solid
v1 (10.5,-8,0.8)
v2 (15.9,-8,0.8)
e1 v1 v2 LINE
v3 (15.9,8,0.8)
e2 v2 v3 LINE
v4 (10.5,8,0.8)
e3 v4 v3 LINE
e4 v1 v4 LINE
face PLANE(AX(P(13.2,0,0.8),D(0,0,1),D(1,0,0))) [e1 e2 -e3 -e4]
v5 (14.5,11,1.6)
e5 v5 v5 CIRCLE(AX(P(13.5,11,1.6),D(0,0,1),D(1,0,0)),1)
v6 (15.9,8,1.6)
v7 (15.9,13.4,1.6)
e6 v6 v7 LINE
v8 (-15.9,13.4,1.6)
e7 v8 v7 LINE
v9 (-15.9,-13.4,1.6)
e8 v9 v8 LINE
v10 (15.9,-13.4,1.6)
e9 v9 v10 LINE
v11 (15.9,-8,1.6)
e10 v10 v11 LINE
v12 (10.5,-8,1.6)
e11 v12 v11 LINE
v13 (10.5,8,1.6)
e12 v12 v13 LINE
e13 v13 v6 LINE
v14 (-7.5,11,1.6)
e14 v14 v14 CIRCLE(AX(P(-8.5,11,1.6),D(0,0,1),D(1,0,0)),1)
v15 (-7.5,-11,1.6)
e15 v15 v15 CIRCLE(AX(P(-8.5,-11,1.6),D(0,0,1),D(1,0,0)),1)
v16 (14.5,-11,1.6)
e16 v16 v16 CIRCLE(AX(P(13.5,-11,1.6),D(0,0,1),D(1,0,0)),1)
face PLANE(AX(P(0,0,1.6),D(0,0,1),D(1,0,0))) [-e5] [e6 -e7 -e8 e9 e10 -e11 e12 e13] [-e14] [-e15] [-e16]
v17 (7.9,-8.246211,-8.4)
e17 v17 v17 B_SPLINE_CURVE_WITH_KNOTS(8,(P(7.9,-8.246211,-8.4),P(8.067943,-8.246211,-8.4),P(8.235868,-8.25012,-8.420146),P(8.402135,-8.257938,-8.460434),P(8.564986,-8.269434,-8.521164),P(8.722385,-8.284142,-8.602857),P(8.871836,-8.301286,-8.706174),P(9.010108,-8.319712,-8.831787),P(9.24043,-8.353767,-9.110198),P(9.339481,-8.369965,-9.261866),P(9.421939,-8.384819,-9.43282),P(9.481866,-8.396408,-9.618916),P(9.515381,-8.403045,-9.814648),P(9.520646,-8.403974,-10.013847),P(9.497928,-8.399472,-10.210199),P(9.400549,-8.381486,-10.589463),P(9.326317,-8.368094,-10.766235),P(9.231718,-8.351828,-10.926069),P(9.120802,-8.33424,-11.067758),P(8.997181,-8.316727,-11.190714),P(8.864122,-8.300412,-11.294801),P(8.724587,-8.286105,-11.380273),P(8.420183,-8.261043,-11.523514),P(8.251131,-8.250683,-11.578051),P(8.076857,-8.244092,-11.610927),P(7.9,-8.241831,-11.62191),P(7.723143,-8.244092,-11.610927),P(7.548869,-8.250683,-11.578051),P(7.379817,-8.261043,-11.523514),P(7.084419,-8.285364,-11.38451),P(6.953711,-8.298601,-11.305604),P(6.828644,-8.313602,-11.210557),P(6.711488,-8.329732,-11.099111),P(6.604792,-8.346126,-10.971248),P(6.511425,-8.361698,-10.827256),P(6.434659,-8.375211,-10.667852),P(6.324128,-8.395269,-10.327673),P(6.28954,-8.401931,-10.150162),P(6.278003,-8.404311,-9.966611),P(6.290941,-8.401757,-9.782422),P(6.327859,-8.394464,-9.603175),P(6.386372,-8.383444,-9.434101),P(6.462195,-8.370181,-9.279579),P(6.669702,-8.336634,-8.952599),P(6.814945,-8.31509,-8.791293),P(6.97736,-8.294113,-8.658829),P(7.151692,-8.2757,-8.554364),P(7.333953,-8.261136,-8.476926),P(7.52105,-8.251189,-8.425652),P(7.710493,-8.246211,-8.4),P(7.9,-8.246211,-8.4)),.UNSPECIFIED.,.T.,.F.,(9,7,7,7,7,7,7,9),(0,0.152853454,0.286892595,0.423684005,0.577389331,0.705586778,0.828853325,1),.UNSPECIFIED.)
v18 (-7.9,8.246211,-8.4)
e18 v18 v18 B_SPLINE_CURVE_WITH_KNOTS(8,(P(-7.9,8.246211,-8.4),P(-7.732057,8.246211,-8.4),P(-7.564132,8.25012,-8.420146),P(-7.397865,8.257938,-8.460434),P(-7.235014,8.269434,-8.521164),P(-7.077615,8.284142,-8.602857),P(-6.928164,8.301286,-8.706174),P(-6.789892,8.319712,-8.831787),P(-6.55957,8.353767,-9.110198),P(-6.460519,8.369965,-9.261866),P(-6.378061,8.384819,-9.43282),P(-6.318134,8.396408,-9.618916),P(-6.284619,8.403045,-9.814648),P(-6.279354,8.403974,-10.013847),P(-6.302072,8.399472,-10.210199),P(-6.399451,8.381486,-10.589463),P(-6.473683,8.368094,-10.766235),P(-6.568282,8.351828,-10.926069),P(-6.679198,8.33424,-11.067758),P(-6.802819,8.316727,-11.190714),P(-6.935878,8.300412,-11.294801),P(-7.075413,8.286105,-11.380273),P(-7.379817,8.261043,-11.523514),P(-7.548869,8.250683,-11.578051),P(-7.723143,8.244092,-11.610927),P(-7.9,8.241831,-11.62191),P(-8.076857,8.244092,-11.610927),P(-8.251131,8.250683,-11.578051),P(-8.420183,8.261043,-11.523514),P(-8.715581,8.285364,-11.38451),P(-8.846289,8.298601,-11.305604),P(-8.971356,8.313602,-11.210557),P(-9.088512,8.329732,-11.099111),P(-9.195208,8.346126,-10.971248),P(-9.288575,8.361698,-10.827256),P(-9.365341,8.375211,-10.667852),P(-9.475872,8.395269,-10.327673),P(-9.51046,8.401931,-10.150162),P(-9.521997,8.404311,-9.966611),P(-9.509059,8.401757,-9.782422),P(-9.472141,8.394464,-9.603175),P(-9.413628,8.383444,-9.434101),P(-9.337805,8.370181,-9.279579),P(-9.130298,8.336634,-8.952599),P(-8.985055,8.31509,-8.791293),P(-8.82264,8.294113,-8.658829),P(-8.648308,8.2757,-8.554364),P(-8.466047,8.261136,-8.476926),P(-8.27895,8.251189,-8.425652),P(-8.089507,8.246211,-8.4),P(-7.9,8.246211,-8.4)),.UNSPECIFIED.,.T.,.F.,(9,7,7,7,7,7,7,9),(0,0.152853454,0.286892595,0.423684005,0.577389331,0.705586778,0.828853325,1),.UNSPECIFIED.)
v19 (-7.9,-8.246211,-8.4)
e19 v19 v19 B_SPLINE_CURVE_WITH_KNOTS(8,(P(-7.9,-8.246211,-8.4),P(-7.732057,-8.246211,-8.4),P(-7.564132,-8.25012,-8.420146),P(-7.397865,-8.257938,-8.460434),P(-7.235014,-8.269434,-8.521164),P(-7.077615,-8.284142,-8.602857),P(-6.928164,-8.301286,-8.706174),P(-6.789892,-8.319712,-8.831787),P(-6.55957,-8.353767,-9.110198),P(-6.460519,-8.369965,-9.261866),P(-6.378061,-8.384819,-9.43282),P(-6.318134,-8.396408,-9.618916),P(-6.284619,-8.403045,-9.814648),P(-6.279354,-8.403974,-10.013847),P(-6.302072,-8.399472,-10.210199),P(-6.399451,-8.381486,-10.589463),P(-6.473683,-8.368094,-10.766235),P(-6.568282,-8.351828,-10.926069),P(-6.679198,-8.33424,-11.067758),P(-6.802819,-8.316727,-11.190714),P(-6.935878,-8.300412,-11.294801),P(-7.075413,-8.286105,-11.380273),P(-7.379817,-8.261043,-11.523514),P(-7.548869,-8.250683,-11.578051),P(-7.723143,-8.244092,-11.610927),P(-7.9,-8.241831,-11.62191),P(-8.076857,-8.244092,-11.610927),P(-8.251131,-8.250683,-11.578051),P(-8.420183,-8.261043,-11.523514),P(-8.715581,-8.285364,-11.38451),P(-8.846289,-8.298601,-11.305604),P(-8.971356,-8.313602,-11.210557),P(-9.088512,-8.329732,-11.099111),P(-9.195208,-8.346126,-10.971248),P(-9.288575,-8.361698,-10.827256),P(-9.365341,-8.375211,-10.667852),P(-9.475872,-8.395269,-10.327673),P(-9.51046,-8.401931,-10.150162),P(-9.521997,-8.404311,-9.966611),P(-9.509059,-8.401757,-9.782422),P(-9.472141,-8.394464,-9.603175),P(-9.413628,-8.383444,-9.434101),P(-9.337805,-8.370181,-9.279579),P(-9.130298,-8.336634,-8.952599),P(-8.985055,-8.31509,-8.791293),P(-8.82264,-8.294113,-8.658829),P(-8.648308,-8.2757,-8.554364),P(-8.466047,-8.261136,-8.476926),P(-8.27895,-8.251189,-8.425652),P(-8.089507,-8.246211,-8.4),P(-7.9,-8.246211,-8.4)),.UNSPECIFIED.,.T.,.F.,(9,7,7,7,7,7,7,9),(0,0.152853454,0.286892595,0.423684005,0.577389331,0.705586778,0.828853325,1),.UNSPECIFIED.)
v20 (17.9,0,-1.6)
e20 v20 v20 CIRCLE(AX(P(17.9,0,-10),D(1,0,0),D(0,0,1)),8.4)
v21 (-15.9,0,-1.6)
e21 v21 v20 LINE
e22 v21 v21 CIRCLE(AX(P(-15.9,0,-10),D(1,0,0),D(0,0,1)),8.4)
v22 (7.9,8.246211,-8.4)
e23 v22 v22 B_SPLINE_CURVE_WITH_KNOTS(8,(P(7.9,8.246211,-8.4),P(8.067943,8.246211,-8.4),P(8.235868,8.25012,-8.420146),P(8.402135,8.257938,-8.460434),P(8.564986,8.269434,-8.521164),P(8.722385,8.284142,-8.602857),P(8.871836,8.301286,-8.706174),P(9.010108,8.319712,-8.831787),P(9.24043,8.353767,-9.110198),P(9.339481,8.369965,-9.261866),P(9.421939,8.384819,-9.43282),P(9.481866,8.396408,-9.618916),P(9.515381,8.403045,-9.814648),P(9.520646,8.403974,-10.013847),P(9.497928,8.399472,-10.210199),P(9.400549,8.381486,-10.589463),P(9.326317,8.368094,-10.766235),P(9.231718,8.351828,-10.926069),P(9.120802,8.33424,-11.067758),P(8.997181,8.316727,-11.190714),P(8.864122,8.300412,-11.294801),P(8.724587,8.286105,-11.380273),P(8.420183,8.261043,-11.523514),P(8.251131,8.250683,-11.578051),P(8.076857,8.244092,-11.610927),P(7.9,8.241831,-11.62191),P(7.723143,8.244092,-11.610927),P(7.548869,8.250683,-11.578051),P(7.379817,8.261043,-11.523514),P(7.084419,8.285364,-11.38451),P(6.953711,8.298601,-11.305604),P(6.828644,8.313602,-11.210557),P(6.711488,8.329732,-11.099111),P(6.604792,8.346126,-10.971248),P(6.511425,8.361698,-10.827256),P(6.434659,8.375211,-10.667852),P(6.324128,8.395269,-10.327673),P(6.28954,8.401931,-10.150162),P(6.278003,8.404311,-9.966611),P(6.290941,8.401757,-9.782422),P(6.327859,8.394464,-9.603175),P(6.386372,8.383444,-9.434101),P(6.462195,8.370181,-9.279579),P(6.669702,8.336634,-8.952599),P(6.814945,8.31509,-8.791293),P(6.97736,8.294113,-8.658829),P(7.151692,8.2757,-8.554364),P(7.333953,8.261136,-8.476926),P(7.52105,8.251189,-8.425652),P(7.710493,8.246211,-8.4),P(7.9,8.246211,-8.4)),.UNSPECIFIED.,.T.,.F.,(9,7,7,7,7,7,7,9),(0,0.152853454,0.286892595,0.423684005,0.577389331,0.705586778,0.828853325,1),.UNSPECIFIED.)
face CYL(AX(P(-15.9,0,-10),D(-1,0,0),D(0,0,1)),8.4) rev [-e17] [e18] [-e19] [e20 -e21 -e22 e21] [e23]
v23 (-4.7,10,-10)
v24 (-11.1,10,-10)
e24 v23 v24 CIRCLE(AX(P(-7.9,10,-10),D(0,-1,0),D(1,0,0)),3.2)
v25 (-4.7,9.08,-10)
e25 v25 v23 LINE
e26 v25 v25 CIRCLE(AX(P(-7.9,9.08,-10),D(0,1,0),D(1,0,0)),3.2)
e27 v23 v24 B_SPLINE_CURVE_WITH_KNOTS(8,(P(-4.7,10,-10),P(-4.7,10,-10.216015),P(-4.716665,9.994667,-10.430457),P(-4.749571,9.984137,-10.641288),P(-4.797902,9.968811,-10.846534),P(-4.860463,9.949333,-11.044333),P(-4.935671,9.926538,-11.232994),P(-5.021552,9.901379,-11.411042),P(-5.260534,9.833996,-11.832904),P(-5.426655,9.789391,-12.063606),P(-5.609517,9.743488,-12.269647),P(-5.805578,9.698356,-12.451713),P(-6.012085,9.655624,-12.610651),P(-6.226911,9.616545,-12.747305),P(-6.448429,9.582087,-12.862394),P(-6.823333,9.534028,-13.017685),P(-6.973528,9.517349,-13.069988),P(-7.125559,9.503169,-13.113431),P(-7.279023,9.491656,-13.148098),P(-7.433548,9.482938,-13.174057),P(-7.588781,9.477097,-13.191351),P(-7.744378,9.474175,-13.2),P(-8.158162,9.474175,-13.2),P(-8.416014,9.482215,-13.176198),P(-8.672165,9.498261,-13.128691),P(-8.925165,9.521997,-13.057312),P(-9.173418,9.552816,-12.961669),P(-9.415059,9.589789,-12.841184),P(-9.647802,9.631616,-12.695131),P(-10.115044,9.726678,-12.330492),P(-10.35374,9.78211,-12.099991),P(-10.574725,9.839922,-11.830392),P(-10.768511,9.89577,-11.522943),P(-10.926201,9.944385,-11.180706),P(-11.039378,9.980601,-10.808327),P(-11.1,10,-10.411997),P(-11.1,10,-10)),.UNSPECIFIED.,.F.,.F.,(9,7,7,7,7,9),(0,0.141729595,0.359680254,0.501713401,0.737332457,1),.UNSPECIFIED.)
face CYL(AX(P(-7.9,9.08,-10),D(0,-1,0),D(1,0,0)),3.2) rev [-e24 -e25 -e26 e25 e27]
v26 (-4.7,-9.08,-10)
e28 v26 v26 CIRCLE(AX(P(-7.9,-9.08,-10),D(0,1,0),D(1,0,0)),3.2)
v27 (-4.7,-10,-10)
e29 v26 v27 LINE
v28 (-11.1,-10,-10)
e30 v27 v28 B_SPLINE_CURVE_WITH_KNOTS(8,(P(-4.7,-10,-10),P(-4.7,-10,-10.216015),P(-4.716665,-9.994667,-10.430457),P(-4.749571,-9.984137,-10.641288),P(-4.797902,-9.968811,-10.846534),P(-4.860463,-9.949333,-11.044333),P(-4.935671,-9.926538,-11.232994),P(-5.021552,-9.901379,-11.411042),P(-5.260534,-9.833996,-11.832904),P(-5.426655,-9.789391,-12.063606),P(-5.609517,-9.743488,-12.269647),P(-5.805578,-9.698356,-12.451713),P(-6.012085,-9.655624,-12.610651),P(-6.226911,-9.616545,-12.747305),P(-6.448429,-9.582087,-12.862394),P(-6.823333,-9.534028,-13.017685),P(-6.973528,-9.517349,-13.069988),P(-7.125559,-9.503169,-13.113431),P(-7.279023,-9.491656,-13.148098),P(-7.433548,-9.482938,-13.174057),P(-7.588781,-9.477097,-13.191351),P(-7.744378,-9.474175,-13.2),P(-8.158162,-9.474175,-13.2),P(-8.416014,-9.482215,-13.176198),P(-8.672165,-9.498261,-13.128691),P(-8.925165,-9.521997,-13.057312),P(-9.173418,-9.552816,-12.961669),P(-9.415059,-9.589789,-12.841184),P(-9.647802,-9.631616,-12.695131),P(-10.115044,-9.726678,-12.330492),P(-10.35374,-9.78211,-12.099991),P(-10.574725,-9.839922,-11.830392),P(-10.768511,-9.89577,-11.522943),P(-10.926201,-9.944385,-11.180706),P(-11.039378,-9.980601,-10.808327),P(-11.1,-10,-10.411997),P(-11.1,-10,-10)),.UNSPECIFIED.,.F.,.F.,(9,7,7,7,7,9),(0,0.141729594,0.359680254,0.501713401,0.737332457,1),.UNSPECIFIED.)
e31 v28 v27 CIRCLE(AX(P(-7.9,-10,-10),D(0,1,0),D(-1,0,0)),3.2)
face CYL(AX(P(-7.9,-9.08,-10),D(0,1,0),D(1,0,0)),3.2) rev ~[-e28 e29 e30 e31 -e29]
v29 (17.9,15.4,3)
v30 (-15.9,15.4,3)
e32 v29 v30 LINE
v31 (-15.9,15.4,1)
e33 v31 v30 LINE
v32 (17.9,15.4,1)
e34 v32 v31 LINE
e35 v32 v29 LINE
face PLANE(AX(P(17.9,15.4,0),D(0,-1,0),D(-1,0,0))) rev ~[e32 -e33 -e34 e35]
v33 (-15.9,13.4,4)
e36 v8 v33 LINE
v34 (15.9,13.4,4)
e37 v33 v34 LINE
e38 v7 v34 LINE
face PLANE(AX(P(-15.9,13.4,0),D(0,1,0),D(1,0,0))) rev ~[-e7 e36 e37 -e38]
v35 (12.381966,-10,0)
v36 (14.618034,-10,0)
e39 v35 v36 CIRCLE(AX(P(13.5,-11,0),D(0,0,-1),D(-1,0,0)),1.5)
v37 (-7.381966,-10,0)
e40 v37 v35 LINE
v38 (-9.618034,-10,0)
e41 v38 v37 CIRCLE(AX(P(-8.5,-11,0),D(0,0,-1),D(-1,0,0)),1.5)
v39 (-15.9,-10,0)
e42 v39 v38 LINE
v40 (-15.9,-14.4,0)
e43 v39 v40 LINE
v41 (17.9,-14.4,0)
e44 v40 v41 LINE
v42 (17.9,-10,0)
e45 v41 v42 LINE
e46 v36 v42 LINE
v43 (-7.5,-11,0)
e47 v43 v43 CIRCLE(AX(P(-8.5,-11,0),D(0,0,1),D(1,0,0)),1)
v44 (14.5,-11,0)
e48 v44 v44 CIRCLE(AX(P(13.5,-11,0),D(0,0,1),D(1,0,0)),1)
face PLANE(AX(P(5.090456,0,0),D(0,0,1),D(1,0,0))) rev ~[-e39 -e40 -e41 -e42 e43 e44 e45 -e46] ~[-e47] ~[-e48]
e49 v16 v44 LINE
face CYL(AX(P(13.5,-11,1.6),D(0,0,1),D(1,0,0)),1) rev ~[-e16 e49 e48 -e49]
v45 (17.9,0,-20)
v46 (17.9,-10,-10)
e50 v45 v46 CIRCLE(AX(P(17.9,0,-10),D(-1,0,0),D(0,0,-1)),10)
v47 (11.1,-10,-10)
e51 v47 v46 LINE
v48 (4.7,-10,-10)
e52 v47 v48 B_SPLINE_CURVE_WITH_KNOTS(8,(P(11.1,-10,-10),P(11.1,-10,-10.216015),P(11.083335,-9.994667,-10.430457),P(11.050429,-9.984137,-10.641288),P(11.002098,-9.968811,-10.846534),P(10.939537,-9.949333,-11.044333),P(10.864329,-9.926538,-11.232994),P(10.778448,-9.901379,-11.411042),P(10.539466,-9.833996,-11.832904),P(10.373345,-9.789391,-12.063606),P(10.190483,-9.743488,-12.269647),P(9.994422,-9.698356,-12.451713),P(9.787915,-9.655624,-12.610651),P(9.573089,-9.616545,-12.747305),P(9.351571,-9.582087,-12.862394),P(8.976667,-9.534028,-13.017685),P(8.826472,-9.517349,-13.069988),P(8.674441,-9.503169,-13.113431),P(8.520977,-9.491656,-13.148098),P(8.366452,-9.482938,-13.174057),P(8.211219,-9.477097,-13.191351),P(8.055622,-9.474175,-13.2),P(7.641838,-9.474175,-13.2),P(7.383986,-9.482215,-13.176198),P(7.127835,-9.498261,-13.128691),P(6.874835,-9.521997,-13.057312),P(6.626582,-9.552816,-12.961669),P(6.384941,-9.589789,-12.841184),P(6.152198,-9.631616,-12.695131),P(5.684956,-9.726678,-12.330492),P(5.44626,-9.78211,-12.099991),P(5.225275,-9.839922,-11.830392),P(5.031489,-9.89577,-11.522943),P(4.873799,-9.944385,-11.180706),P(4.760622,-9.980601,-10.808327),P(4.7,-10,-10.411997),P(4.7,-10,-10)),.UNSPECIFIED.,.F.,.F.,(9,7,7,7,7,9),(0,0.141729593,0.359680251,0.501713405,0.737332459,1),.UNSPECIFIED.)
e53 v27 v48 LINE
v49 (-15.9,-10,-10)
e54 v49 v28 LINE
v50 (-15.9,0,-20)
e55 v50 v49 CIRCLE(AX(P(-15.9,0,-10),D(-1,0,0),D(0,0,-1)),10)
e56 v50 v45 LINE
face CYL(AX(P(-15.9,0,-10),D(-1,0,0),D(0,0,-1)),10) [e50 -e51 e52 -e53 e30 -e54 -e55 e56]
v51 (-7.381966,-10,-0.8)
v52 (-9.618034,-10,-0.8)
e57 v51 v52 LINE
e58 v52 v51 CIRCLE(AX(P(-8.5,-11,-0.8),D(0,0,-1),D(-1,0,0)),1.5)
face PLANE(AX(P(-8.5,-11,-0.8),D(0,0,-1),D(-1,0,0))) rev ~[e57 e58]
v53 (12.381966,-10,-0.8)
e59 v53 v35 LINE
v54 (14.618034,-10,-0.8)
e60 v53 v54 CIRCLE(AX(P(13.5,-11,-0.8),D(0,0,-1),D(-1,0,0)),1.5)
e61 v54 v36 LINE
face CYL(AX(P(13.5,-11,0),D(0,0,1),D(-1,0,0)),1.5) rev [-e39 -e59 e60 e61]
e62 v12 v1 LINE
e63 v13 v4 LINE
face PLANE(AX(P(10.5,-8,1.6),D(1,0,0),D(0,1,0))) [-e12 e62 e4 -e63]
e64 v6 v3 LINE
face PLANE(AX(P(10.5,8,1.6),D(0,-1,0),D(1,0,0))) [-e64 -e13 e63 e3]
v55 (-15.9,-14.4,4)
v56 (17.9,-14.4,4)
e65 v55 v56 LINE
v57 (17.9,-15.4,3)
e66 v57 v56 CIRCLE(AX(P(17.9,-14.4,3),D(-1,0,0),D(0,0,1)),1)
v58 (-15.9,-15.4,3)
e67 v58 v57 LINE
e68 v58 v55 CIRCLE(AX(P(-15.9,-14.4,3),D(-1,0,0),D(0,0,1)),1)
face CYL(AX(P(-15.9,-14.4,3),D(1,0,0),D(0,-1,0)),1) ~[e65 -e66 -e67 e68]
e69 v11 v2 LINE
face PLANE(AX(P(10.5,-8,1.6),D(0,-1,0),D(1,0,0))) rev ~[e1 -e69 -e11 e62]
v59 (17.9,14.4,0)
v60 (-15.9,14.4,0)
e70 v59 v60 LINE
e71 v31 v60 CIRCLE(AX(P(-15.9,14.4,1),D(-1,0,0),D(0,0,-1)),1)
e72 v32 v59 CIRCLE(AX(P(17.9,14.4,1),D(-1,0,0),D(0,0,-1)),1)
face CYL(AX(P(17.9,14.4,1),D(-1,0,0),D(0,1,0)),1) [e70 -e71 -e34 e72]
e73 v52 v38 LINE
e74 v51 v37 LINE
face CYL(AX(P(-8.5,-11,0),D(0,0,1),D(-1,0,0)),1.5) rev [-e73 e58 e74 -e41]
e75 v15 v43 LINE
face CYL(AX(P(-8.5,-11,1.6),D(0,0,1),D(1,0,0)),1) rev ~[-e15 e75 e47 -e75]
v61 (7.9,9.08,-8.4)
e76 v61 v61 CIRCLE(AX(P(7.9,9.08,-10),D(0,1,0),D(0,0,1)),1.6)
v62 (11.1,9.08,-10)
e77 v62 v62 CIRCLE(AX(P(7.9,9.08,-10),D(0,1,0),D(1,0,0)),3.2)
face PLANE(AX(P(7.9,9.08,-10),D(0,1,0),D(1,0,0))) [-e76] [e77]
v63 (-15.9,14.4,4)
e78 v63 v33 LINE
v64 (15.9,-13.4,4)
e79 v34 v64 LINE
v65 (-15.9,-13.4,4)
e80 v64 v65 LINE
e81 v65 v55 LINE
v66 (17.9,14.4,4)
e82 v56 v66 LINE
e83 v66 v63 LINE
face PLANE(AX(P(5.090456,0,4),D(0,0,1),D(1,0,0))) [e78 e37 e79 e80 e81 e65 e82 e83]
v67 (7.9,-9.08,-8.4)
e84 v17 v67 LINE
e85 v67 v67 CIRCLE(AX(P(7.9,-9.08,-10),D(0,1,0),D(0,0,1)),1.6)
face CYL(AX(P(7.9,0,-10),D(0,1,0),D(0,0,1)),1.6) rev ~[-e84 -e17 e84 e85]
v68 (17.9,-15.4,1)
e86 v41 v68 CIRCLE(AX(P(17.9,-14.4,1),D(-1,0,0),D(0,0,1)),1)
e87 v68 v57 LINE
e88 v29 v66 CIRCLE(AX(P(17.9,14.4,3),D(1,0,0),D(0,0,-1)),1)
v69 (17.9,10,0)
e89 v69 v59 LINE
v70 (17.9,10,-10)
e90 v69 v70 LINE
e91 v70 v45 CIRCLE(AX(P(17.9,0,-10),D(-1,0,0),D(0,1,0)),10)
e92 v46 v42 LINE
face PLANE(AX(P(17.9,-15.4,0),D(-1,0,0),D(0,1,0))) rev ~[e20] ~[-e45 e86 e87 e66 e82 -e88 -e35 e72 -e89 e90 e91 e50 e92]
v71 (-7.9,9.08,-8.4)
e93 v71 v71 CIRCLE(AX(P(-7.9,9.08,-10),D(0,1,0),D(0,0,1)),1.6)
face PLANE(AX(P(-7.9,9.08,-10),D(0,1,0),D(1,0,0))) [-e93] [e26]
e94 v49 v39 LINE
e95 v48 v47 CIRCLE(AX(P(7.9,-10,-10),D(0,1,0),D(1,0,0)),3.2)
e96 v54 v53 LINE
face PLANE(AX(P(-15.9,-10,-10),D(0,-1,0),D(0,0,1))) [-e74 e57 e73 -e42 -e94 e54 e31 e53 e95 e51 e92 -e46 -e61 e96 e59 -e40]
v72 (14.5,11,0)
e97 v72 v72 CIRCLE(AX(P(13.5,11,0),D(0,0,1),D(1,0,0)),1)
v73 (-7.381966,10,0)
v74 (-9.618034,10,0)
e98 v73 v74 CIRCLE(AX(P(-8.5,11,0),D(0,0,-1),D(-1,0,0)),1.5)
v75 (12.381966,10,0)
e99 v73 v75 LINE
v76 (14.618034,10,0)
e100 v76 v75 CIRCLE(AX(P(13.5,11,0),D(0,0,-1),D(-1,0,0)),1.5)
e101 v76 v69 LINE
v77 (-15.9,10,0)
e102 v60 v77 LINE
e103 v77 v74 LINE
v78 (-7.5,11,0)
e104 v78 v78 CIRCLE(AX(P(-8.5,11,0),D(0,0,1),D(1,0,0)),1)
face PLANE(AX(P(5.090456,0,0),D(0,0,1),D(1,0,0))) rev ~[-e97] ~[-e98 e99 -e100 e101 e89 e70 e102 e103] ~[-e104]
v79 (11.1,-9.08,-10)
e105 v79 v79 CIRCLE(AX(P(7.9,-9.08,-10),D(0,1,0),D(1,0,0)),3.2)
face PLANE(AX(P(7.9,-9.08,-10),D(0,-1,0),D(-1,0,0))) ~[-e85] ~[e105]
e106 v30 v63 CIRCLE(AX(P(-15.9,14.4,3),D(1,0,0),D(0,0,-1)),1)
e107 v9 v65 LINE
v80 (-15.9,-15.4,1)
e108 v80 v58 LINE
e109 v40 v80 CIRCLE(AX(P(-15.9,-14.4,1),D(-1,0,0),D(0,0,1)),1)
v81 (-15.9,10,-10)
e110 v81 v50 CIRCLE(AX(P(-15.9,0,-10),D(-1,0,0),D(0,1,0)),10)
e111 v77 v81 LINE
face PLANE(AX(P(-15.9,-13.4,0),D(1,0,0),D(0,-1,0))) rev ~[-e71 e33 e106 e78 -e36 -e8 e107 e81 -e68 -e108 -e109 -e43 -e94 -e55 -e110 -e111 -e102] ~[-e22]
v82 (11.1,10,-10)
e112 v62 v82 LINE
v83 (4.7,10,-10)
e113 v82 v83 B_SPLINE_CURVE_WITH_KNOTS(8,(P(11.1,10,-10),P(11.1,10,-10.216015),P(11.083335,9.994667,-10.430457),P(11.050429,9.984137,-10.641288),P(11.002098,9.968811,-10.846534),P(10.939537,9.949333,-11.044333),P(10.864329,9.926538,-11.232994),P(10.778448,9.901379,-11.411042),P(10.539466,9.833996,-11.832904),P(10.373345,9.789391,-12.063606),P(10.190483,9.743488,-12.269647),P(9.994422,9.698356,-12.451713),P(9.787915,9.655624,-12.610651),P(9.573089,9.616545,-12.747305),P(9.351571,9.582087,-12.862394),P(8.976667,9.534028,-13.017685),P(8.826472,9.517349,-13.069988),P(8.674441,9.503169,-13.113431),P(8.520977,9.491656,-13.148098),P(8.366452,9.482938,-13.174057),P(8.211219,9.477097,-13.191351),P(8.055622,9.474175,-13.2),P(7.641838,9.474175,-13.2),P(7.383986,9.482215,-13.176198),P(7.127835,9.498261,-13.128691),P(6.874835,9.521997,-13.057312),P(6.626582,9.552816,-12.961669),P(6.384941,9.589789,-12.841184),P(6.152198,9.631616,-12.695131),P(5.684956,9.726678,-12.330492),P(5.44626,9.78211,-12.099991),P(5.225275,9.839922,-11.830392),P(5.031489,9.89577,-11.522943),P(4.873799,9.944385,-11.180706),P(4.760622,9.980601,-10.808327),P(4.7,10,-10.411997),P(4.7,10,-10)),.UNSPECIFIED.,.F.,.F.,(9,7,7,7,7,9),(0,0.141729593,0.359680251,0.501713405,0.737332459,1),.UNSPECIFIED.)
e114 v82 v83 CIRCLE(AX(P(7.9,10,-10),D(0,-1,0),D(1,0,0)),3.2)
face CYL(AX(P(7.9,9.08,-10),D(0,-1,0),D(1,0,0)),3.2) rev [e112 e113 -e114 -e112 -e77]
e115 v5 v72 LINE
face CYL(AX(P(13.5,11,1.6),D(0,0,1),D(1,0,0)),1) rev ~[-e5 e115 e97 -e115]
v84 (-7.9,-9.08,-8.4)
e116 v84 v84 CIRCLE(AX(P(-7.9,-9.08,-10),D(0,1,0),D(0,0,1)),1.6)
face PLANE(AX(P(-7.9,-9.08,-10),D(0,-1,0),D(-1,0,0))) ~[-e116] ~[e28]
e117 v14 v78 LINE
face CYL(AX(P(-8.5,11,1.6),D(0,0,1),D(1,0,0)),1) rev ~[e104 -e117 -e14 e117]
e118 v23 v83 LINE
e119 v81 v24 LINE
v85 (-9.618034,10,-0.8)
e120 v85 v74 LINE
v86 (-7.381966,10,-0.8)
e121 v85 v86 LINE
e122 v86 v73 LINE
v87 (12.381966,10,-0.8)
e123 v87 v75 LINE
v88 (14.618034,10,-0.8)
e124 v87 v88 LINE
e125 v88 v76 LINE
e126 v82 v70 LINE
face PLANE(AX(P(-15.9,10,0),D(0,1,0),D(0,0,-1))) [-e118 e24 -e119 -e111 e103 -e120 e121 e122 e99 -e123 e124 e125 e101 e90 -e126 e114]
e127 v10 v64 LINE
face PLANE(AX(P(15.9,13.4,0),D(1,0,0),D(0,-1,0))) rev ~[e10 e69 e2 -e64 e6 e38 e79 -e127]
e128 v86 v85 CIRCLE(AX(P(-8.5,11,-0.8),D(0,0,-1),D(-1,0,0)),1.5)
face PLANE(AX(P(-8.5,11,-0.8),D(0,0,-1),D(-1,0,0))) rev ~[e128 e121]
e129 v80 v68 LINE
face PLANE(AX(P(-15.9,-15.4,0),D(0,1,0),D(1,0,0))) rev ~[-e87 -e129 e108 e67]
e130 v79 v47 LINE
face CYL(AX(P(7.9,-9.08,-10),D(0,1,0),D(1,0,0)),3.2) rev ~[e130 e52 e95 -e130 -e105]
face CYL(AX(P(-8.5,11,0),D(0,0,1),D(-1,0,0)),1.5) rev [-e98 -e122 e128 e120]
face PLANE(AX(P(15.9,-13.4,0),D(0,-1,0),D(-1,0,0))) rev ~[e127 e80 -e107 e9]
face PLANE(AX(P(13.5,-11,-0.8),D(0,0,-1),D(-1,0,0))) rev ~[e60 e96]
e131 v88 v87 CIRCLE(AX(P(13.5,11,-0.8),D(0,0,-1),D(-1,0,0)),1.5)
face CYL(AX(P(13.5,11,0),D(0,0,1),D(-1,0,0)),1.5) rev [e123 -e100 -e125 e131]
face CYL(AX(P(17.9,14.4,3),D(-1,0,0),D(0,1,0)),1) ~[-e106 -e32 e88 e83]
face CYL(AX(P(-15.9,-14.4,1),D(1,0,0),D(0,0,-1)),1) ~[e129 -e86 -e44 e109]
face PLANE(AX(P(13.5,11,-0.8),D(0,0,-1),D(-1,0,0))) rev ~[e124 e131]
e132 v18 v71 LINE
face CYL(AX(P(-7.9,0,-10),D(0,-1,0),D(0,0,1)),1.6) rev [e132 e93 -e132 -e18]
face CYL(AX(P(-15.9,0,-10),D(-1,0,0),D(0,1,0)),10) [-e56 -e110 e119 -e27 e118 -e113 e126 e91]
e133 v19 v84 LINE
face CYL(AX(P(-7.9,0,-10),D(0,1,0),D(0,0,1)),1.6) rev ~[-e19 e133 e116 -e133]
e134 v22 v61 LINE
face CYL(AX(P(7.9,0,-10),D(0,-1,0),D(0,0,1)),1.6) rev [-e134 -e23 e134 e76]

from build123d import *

# Parameters (mm, degrees)
SKETCH_1_W               = 31.8
SKETCH_1_H               = 26.8
SKETCH_1_R               = 1
EXTRUDE_1_DEPTH          = 1.6
EXTRUDE_2_DEPTH          = 4
SKETCH_2_W               = 5.4
SKETCH_2_H               = 16
CUT_EXTRUDE_1_DEPTH      = 0.8
EXTRUDE_3_DEPTH          = 33.8
SKETCH_4_R               = 1.6
CUT_EXTRUDE_2_DEPTH      = 31.944627967
CUT_EXTRUDE_2_DEPTH_BACK = 31.944627967
CUT_EXTRUDE_START        = -1
SKETCH_6_R               = 3.2
SKETCH_6_R_2             = 1.6
CUT_EXTRUDE_3_DEPTH      = 3
CUT_EXTRUDE_START_2      = 1.6
SKETCH_1_5_R             = 1
CUT_EXTRUDE_5_DEPTH      = 33.544628089
FILLET_1_R               = 1
SKETCH_7_R               = 1.5
SKETCH_7_R_2             = 1
CUT_EXTRUDE_6_DEPTH      = 0.8


with BuildPart() as part:
    # Эскиз1 → Бобышка-Вытянуть1 (new body)
    with BuildSketch(Plane.XY):
        Rectangle(SKETCH_1_W, SKETCH_1_H)
        with Locations((-8.5, -11)):
            Circle(SKETCH_1_R, mode=Mode.SUBTRACT)
        with Locations((-8.5, 11)):
            Circle(SKETCH_1_R, mode=Mode.SUBTRACT)
        with Locations((13.5, 11)):
            Circle(SKETCH_1_R, mode=Mode.SUBTRACT)
        with Locations((13.5, -11)):
            Circle(SKETCH_1_R, mode=Mode.SUBTRACT)
        with Locations((-8.5, 11)):
            Circle(SKETCH_1_R)
        with Locations((13.5, 11)):
            Circle(SKETCH_1_R)
        with Locations((-8.5, -11)):
            Circle(SKETCH_1_R)
        with Locations((13.5, -11)):
            Circle(SKETCH_1_R)
    extrude(amount=EXTRUDE_1_DEPTH)

    # Эскиз1<3> → Бобышка-Вытянуть2 (add)
    with BuildSketch(Plane.XY):
        Polygon((-15.9, -13.4), (-15.9, -15.4), (17.9, -15.4), (17.9, 15.4), (-15.9, 15.4), (-15.9, 13.4), (15.9, 13.4), (15.9, -13.4), align=None)
    extrude(amount=EXTRUDE_2_DEPTH)

    # Эскиз2 → Вырез-Вытянуть1 (cut)
    with BuildSketch(Plane.XY.offset(1.6)):
        with Locations((13.2, 0)):
            Rectangle(SKETCH_2_W, SKETCH_2_H)
    extrude(amount=-CUT_EXTRUDE_1_DEPTH, mode=Mode.SUBTRACT)

    # Эскиз3 → Бобышка-Вытянуть3 (add)
    with BuildSketch(Plane.ZY.offset(15.9)):
        with BuildLine():
            Line((-1.6, 0), (0, 0))
            ThreePointArc((0, 0), (-2.928932188, 7.071067812), (-10, 10))
            ThreePointArc((-10, 10), (-17.071067812, 7.071067812), (-20, 0))
            Line((-20, 0), (-18.4, 0))
            ThreePointArc((-18.4, 0), (-10, 8.4), (-1.6, 0))
        make_face()
        with BuildLine():
            ThreePointArc((-10, -10), (-2.928932188, -7.071067812), (0, 0))
            Line((0, 0), (-1.6, 0))
            ThreePointArc((-1.6, 0), (-10, -8.4), (-18.4, 0))
            Line((-18.4, 0), (-20, 0))
            ThreePointArc((-20, 0), (-17.071067812, -7.071067812), (-10, -10))
        make_face()
        with BuildLine():
            Line((0, -10), (0, 0))
            ThreePointArc((0, 0), (-2.928932188, -7.071067812), (-10, -10))
            Line((-10, -10), (0, -10))
        make_face()
        with BuildLine():
            ThreePointArc((-10, 10), (-2.928932188, 7.071067812), (0, 0))
            Line((0, 0), (0, 10))
            Line((0, 10), (-10, 10))
        make_face()
    extrude(amount=-EXTRUDE_3_DEPTH)

    # Эскиз4 → Вырез-Вытянуть2 (cut, two sides)
    with BuildSketch(Plane(origin=(0, 0, 0), x_dir=(1, 0, 0), z_dir=(0, 1, 0))) as cut_extrude_2_sk:
        with Locations(Location((-7.9, 10, 0), (0, 0, 270))):
            Circle(SKETCH_4_R)
        with Locations(Location((7.9, 10, 0), (0, 0, 270))):
            Circle(SKETCH_4_R)
    extrude(amount=CUT_EXTRUDE_2_DEPTH, mode=Mode.SUBTRACT)
    extrude(cut_extrude_2_sk.sketch, amount=-CUT_EXTRUDE_2_DEPTH_BACK, mode=Mode.SUBTRACT)

    # Эскиз6 → Вырез-Вытянуть3 (cut)
    with BuildSketch(Plane(origin=(0, 10.08, 0), x_dir=(1, 0, 0), z_dir=(0, 1, 0)).offset(CUT_EXTRUDE_START)):
        with Locations((7.9, 10)):
            Circle(SKETCH_6_R)
        with Locations(Location((7.9, 10, 0), (0, 0, 270))):
            Circle(SKETCH_6_R_2, mode=Mode.SUBTRACT)
        with Locations((-7.9, 10)):
            Circle(SKETCH_6_R)
        with Locations(Location((-7.9, 10, 0), (0, 0, 270))):
            Circle(SKETCH_6_R_2, mode=Mode.SUBTRACT)
    cut_extrude_3 = extrude(amount=CUT_EXTRUDE_3_DEPTH, mode=Mode.SUBTRACT)

    # Зеркальное отражение1: Вырез-Вытянуть3 across plane
    add(cut_extrude_3.mirror(Plane.ZX), mode=Mode.SUBTRACT)

    # Эскиз1<5> → Вырез-Вытянуть5 (cut, through all)
    with BuildSketch(Plane.XY.offset(CUT_EXTRUDE_START_2)):
        with Locations((13.5, 11)):
            Circle(SKETCH_1_5_R)
        with Locations((-8.5, 11)):
            Circle(SKETCH_1_5_R)
        with Locations((-8.5, -11)):
            Circle(SKETCH_1_5_R)
        with Locations((13.5, -11)):
            Circle(SKETCH_1_5_R)
    extrude(amount=-CUT_EXTRUDE_5_DEPTH, mode=Mode.SUBTRACT)

    # Скругление1
    fillet_1_edges = [part.edges().sort_by_distance(p)[0] for p in [
        (1, -15.4, 0),
        (1, 15.4, 4),
        (1, -15.4, 4),
        (1, 15.4, 0),
    ]]
    fillet(fillet_1_edges, radius=FILLET_1_R)

    # Эскиз7 → Вырез-Вытянуть6 (cut)
    with BuildSketch(Plane(origin=(0, 0, 0), x_dir=(-1, 0, 0), z_dir=(0, 0, -1))):
        with Locations((8.5, 11)):
            Circle(SKETCH_7_R)
        with Locations(Location((8.5, 11, 0), (0, 0, 180))):
            Circle(SKETCH_7_R_2, mode=Mode.SUBTRACT)
        with Locations((-13.5, 11)):
            Circle(SKETCH_7_R)
        with Locations(Location((-13.5, 11, 0), (0, 0, 180))):
            Circle(SKETCH_7_R_2, mode=Mode.SUBTRACT)
        with Locations((8.5, -11)):
            Circle(SKETCH_7_R)
        with Locations(Location((8.5, -11, 0), (0, 0, 180))):
            Circle(SKETCH_7_R_2, mode=Mode.SUBTRACT)
        with Locations((-13.5, -11)):
            Circle(SKETCH_7_R)
        with Locations(Location((-13.5, -11, 0), (0, 0, 180))):
            Circle(SKETCH_7_R_2, mode=Mode.SUBTRACT)
    extrude(amount=CUT_EXTRUDE_6_DEPTH, mode=Mode.SUBTRACT)


solid = part.part
